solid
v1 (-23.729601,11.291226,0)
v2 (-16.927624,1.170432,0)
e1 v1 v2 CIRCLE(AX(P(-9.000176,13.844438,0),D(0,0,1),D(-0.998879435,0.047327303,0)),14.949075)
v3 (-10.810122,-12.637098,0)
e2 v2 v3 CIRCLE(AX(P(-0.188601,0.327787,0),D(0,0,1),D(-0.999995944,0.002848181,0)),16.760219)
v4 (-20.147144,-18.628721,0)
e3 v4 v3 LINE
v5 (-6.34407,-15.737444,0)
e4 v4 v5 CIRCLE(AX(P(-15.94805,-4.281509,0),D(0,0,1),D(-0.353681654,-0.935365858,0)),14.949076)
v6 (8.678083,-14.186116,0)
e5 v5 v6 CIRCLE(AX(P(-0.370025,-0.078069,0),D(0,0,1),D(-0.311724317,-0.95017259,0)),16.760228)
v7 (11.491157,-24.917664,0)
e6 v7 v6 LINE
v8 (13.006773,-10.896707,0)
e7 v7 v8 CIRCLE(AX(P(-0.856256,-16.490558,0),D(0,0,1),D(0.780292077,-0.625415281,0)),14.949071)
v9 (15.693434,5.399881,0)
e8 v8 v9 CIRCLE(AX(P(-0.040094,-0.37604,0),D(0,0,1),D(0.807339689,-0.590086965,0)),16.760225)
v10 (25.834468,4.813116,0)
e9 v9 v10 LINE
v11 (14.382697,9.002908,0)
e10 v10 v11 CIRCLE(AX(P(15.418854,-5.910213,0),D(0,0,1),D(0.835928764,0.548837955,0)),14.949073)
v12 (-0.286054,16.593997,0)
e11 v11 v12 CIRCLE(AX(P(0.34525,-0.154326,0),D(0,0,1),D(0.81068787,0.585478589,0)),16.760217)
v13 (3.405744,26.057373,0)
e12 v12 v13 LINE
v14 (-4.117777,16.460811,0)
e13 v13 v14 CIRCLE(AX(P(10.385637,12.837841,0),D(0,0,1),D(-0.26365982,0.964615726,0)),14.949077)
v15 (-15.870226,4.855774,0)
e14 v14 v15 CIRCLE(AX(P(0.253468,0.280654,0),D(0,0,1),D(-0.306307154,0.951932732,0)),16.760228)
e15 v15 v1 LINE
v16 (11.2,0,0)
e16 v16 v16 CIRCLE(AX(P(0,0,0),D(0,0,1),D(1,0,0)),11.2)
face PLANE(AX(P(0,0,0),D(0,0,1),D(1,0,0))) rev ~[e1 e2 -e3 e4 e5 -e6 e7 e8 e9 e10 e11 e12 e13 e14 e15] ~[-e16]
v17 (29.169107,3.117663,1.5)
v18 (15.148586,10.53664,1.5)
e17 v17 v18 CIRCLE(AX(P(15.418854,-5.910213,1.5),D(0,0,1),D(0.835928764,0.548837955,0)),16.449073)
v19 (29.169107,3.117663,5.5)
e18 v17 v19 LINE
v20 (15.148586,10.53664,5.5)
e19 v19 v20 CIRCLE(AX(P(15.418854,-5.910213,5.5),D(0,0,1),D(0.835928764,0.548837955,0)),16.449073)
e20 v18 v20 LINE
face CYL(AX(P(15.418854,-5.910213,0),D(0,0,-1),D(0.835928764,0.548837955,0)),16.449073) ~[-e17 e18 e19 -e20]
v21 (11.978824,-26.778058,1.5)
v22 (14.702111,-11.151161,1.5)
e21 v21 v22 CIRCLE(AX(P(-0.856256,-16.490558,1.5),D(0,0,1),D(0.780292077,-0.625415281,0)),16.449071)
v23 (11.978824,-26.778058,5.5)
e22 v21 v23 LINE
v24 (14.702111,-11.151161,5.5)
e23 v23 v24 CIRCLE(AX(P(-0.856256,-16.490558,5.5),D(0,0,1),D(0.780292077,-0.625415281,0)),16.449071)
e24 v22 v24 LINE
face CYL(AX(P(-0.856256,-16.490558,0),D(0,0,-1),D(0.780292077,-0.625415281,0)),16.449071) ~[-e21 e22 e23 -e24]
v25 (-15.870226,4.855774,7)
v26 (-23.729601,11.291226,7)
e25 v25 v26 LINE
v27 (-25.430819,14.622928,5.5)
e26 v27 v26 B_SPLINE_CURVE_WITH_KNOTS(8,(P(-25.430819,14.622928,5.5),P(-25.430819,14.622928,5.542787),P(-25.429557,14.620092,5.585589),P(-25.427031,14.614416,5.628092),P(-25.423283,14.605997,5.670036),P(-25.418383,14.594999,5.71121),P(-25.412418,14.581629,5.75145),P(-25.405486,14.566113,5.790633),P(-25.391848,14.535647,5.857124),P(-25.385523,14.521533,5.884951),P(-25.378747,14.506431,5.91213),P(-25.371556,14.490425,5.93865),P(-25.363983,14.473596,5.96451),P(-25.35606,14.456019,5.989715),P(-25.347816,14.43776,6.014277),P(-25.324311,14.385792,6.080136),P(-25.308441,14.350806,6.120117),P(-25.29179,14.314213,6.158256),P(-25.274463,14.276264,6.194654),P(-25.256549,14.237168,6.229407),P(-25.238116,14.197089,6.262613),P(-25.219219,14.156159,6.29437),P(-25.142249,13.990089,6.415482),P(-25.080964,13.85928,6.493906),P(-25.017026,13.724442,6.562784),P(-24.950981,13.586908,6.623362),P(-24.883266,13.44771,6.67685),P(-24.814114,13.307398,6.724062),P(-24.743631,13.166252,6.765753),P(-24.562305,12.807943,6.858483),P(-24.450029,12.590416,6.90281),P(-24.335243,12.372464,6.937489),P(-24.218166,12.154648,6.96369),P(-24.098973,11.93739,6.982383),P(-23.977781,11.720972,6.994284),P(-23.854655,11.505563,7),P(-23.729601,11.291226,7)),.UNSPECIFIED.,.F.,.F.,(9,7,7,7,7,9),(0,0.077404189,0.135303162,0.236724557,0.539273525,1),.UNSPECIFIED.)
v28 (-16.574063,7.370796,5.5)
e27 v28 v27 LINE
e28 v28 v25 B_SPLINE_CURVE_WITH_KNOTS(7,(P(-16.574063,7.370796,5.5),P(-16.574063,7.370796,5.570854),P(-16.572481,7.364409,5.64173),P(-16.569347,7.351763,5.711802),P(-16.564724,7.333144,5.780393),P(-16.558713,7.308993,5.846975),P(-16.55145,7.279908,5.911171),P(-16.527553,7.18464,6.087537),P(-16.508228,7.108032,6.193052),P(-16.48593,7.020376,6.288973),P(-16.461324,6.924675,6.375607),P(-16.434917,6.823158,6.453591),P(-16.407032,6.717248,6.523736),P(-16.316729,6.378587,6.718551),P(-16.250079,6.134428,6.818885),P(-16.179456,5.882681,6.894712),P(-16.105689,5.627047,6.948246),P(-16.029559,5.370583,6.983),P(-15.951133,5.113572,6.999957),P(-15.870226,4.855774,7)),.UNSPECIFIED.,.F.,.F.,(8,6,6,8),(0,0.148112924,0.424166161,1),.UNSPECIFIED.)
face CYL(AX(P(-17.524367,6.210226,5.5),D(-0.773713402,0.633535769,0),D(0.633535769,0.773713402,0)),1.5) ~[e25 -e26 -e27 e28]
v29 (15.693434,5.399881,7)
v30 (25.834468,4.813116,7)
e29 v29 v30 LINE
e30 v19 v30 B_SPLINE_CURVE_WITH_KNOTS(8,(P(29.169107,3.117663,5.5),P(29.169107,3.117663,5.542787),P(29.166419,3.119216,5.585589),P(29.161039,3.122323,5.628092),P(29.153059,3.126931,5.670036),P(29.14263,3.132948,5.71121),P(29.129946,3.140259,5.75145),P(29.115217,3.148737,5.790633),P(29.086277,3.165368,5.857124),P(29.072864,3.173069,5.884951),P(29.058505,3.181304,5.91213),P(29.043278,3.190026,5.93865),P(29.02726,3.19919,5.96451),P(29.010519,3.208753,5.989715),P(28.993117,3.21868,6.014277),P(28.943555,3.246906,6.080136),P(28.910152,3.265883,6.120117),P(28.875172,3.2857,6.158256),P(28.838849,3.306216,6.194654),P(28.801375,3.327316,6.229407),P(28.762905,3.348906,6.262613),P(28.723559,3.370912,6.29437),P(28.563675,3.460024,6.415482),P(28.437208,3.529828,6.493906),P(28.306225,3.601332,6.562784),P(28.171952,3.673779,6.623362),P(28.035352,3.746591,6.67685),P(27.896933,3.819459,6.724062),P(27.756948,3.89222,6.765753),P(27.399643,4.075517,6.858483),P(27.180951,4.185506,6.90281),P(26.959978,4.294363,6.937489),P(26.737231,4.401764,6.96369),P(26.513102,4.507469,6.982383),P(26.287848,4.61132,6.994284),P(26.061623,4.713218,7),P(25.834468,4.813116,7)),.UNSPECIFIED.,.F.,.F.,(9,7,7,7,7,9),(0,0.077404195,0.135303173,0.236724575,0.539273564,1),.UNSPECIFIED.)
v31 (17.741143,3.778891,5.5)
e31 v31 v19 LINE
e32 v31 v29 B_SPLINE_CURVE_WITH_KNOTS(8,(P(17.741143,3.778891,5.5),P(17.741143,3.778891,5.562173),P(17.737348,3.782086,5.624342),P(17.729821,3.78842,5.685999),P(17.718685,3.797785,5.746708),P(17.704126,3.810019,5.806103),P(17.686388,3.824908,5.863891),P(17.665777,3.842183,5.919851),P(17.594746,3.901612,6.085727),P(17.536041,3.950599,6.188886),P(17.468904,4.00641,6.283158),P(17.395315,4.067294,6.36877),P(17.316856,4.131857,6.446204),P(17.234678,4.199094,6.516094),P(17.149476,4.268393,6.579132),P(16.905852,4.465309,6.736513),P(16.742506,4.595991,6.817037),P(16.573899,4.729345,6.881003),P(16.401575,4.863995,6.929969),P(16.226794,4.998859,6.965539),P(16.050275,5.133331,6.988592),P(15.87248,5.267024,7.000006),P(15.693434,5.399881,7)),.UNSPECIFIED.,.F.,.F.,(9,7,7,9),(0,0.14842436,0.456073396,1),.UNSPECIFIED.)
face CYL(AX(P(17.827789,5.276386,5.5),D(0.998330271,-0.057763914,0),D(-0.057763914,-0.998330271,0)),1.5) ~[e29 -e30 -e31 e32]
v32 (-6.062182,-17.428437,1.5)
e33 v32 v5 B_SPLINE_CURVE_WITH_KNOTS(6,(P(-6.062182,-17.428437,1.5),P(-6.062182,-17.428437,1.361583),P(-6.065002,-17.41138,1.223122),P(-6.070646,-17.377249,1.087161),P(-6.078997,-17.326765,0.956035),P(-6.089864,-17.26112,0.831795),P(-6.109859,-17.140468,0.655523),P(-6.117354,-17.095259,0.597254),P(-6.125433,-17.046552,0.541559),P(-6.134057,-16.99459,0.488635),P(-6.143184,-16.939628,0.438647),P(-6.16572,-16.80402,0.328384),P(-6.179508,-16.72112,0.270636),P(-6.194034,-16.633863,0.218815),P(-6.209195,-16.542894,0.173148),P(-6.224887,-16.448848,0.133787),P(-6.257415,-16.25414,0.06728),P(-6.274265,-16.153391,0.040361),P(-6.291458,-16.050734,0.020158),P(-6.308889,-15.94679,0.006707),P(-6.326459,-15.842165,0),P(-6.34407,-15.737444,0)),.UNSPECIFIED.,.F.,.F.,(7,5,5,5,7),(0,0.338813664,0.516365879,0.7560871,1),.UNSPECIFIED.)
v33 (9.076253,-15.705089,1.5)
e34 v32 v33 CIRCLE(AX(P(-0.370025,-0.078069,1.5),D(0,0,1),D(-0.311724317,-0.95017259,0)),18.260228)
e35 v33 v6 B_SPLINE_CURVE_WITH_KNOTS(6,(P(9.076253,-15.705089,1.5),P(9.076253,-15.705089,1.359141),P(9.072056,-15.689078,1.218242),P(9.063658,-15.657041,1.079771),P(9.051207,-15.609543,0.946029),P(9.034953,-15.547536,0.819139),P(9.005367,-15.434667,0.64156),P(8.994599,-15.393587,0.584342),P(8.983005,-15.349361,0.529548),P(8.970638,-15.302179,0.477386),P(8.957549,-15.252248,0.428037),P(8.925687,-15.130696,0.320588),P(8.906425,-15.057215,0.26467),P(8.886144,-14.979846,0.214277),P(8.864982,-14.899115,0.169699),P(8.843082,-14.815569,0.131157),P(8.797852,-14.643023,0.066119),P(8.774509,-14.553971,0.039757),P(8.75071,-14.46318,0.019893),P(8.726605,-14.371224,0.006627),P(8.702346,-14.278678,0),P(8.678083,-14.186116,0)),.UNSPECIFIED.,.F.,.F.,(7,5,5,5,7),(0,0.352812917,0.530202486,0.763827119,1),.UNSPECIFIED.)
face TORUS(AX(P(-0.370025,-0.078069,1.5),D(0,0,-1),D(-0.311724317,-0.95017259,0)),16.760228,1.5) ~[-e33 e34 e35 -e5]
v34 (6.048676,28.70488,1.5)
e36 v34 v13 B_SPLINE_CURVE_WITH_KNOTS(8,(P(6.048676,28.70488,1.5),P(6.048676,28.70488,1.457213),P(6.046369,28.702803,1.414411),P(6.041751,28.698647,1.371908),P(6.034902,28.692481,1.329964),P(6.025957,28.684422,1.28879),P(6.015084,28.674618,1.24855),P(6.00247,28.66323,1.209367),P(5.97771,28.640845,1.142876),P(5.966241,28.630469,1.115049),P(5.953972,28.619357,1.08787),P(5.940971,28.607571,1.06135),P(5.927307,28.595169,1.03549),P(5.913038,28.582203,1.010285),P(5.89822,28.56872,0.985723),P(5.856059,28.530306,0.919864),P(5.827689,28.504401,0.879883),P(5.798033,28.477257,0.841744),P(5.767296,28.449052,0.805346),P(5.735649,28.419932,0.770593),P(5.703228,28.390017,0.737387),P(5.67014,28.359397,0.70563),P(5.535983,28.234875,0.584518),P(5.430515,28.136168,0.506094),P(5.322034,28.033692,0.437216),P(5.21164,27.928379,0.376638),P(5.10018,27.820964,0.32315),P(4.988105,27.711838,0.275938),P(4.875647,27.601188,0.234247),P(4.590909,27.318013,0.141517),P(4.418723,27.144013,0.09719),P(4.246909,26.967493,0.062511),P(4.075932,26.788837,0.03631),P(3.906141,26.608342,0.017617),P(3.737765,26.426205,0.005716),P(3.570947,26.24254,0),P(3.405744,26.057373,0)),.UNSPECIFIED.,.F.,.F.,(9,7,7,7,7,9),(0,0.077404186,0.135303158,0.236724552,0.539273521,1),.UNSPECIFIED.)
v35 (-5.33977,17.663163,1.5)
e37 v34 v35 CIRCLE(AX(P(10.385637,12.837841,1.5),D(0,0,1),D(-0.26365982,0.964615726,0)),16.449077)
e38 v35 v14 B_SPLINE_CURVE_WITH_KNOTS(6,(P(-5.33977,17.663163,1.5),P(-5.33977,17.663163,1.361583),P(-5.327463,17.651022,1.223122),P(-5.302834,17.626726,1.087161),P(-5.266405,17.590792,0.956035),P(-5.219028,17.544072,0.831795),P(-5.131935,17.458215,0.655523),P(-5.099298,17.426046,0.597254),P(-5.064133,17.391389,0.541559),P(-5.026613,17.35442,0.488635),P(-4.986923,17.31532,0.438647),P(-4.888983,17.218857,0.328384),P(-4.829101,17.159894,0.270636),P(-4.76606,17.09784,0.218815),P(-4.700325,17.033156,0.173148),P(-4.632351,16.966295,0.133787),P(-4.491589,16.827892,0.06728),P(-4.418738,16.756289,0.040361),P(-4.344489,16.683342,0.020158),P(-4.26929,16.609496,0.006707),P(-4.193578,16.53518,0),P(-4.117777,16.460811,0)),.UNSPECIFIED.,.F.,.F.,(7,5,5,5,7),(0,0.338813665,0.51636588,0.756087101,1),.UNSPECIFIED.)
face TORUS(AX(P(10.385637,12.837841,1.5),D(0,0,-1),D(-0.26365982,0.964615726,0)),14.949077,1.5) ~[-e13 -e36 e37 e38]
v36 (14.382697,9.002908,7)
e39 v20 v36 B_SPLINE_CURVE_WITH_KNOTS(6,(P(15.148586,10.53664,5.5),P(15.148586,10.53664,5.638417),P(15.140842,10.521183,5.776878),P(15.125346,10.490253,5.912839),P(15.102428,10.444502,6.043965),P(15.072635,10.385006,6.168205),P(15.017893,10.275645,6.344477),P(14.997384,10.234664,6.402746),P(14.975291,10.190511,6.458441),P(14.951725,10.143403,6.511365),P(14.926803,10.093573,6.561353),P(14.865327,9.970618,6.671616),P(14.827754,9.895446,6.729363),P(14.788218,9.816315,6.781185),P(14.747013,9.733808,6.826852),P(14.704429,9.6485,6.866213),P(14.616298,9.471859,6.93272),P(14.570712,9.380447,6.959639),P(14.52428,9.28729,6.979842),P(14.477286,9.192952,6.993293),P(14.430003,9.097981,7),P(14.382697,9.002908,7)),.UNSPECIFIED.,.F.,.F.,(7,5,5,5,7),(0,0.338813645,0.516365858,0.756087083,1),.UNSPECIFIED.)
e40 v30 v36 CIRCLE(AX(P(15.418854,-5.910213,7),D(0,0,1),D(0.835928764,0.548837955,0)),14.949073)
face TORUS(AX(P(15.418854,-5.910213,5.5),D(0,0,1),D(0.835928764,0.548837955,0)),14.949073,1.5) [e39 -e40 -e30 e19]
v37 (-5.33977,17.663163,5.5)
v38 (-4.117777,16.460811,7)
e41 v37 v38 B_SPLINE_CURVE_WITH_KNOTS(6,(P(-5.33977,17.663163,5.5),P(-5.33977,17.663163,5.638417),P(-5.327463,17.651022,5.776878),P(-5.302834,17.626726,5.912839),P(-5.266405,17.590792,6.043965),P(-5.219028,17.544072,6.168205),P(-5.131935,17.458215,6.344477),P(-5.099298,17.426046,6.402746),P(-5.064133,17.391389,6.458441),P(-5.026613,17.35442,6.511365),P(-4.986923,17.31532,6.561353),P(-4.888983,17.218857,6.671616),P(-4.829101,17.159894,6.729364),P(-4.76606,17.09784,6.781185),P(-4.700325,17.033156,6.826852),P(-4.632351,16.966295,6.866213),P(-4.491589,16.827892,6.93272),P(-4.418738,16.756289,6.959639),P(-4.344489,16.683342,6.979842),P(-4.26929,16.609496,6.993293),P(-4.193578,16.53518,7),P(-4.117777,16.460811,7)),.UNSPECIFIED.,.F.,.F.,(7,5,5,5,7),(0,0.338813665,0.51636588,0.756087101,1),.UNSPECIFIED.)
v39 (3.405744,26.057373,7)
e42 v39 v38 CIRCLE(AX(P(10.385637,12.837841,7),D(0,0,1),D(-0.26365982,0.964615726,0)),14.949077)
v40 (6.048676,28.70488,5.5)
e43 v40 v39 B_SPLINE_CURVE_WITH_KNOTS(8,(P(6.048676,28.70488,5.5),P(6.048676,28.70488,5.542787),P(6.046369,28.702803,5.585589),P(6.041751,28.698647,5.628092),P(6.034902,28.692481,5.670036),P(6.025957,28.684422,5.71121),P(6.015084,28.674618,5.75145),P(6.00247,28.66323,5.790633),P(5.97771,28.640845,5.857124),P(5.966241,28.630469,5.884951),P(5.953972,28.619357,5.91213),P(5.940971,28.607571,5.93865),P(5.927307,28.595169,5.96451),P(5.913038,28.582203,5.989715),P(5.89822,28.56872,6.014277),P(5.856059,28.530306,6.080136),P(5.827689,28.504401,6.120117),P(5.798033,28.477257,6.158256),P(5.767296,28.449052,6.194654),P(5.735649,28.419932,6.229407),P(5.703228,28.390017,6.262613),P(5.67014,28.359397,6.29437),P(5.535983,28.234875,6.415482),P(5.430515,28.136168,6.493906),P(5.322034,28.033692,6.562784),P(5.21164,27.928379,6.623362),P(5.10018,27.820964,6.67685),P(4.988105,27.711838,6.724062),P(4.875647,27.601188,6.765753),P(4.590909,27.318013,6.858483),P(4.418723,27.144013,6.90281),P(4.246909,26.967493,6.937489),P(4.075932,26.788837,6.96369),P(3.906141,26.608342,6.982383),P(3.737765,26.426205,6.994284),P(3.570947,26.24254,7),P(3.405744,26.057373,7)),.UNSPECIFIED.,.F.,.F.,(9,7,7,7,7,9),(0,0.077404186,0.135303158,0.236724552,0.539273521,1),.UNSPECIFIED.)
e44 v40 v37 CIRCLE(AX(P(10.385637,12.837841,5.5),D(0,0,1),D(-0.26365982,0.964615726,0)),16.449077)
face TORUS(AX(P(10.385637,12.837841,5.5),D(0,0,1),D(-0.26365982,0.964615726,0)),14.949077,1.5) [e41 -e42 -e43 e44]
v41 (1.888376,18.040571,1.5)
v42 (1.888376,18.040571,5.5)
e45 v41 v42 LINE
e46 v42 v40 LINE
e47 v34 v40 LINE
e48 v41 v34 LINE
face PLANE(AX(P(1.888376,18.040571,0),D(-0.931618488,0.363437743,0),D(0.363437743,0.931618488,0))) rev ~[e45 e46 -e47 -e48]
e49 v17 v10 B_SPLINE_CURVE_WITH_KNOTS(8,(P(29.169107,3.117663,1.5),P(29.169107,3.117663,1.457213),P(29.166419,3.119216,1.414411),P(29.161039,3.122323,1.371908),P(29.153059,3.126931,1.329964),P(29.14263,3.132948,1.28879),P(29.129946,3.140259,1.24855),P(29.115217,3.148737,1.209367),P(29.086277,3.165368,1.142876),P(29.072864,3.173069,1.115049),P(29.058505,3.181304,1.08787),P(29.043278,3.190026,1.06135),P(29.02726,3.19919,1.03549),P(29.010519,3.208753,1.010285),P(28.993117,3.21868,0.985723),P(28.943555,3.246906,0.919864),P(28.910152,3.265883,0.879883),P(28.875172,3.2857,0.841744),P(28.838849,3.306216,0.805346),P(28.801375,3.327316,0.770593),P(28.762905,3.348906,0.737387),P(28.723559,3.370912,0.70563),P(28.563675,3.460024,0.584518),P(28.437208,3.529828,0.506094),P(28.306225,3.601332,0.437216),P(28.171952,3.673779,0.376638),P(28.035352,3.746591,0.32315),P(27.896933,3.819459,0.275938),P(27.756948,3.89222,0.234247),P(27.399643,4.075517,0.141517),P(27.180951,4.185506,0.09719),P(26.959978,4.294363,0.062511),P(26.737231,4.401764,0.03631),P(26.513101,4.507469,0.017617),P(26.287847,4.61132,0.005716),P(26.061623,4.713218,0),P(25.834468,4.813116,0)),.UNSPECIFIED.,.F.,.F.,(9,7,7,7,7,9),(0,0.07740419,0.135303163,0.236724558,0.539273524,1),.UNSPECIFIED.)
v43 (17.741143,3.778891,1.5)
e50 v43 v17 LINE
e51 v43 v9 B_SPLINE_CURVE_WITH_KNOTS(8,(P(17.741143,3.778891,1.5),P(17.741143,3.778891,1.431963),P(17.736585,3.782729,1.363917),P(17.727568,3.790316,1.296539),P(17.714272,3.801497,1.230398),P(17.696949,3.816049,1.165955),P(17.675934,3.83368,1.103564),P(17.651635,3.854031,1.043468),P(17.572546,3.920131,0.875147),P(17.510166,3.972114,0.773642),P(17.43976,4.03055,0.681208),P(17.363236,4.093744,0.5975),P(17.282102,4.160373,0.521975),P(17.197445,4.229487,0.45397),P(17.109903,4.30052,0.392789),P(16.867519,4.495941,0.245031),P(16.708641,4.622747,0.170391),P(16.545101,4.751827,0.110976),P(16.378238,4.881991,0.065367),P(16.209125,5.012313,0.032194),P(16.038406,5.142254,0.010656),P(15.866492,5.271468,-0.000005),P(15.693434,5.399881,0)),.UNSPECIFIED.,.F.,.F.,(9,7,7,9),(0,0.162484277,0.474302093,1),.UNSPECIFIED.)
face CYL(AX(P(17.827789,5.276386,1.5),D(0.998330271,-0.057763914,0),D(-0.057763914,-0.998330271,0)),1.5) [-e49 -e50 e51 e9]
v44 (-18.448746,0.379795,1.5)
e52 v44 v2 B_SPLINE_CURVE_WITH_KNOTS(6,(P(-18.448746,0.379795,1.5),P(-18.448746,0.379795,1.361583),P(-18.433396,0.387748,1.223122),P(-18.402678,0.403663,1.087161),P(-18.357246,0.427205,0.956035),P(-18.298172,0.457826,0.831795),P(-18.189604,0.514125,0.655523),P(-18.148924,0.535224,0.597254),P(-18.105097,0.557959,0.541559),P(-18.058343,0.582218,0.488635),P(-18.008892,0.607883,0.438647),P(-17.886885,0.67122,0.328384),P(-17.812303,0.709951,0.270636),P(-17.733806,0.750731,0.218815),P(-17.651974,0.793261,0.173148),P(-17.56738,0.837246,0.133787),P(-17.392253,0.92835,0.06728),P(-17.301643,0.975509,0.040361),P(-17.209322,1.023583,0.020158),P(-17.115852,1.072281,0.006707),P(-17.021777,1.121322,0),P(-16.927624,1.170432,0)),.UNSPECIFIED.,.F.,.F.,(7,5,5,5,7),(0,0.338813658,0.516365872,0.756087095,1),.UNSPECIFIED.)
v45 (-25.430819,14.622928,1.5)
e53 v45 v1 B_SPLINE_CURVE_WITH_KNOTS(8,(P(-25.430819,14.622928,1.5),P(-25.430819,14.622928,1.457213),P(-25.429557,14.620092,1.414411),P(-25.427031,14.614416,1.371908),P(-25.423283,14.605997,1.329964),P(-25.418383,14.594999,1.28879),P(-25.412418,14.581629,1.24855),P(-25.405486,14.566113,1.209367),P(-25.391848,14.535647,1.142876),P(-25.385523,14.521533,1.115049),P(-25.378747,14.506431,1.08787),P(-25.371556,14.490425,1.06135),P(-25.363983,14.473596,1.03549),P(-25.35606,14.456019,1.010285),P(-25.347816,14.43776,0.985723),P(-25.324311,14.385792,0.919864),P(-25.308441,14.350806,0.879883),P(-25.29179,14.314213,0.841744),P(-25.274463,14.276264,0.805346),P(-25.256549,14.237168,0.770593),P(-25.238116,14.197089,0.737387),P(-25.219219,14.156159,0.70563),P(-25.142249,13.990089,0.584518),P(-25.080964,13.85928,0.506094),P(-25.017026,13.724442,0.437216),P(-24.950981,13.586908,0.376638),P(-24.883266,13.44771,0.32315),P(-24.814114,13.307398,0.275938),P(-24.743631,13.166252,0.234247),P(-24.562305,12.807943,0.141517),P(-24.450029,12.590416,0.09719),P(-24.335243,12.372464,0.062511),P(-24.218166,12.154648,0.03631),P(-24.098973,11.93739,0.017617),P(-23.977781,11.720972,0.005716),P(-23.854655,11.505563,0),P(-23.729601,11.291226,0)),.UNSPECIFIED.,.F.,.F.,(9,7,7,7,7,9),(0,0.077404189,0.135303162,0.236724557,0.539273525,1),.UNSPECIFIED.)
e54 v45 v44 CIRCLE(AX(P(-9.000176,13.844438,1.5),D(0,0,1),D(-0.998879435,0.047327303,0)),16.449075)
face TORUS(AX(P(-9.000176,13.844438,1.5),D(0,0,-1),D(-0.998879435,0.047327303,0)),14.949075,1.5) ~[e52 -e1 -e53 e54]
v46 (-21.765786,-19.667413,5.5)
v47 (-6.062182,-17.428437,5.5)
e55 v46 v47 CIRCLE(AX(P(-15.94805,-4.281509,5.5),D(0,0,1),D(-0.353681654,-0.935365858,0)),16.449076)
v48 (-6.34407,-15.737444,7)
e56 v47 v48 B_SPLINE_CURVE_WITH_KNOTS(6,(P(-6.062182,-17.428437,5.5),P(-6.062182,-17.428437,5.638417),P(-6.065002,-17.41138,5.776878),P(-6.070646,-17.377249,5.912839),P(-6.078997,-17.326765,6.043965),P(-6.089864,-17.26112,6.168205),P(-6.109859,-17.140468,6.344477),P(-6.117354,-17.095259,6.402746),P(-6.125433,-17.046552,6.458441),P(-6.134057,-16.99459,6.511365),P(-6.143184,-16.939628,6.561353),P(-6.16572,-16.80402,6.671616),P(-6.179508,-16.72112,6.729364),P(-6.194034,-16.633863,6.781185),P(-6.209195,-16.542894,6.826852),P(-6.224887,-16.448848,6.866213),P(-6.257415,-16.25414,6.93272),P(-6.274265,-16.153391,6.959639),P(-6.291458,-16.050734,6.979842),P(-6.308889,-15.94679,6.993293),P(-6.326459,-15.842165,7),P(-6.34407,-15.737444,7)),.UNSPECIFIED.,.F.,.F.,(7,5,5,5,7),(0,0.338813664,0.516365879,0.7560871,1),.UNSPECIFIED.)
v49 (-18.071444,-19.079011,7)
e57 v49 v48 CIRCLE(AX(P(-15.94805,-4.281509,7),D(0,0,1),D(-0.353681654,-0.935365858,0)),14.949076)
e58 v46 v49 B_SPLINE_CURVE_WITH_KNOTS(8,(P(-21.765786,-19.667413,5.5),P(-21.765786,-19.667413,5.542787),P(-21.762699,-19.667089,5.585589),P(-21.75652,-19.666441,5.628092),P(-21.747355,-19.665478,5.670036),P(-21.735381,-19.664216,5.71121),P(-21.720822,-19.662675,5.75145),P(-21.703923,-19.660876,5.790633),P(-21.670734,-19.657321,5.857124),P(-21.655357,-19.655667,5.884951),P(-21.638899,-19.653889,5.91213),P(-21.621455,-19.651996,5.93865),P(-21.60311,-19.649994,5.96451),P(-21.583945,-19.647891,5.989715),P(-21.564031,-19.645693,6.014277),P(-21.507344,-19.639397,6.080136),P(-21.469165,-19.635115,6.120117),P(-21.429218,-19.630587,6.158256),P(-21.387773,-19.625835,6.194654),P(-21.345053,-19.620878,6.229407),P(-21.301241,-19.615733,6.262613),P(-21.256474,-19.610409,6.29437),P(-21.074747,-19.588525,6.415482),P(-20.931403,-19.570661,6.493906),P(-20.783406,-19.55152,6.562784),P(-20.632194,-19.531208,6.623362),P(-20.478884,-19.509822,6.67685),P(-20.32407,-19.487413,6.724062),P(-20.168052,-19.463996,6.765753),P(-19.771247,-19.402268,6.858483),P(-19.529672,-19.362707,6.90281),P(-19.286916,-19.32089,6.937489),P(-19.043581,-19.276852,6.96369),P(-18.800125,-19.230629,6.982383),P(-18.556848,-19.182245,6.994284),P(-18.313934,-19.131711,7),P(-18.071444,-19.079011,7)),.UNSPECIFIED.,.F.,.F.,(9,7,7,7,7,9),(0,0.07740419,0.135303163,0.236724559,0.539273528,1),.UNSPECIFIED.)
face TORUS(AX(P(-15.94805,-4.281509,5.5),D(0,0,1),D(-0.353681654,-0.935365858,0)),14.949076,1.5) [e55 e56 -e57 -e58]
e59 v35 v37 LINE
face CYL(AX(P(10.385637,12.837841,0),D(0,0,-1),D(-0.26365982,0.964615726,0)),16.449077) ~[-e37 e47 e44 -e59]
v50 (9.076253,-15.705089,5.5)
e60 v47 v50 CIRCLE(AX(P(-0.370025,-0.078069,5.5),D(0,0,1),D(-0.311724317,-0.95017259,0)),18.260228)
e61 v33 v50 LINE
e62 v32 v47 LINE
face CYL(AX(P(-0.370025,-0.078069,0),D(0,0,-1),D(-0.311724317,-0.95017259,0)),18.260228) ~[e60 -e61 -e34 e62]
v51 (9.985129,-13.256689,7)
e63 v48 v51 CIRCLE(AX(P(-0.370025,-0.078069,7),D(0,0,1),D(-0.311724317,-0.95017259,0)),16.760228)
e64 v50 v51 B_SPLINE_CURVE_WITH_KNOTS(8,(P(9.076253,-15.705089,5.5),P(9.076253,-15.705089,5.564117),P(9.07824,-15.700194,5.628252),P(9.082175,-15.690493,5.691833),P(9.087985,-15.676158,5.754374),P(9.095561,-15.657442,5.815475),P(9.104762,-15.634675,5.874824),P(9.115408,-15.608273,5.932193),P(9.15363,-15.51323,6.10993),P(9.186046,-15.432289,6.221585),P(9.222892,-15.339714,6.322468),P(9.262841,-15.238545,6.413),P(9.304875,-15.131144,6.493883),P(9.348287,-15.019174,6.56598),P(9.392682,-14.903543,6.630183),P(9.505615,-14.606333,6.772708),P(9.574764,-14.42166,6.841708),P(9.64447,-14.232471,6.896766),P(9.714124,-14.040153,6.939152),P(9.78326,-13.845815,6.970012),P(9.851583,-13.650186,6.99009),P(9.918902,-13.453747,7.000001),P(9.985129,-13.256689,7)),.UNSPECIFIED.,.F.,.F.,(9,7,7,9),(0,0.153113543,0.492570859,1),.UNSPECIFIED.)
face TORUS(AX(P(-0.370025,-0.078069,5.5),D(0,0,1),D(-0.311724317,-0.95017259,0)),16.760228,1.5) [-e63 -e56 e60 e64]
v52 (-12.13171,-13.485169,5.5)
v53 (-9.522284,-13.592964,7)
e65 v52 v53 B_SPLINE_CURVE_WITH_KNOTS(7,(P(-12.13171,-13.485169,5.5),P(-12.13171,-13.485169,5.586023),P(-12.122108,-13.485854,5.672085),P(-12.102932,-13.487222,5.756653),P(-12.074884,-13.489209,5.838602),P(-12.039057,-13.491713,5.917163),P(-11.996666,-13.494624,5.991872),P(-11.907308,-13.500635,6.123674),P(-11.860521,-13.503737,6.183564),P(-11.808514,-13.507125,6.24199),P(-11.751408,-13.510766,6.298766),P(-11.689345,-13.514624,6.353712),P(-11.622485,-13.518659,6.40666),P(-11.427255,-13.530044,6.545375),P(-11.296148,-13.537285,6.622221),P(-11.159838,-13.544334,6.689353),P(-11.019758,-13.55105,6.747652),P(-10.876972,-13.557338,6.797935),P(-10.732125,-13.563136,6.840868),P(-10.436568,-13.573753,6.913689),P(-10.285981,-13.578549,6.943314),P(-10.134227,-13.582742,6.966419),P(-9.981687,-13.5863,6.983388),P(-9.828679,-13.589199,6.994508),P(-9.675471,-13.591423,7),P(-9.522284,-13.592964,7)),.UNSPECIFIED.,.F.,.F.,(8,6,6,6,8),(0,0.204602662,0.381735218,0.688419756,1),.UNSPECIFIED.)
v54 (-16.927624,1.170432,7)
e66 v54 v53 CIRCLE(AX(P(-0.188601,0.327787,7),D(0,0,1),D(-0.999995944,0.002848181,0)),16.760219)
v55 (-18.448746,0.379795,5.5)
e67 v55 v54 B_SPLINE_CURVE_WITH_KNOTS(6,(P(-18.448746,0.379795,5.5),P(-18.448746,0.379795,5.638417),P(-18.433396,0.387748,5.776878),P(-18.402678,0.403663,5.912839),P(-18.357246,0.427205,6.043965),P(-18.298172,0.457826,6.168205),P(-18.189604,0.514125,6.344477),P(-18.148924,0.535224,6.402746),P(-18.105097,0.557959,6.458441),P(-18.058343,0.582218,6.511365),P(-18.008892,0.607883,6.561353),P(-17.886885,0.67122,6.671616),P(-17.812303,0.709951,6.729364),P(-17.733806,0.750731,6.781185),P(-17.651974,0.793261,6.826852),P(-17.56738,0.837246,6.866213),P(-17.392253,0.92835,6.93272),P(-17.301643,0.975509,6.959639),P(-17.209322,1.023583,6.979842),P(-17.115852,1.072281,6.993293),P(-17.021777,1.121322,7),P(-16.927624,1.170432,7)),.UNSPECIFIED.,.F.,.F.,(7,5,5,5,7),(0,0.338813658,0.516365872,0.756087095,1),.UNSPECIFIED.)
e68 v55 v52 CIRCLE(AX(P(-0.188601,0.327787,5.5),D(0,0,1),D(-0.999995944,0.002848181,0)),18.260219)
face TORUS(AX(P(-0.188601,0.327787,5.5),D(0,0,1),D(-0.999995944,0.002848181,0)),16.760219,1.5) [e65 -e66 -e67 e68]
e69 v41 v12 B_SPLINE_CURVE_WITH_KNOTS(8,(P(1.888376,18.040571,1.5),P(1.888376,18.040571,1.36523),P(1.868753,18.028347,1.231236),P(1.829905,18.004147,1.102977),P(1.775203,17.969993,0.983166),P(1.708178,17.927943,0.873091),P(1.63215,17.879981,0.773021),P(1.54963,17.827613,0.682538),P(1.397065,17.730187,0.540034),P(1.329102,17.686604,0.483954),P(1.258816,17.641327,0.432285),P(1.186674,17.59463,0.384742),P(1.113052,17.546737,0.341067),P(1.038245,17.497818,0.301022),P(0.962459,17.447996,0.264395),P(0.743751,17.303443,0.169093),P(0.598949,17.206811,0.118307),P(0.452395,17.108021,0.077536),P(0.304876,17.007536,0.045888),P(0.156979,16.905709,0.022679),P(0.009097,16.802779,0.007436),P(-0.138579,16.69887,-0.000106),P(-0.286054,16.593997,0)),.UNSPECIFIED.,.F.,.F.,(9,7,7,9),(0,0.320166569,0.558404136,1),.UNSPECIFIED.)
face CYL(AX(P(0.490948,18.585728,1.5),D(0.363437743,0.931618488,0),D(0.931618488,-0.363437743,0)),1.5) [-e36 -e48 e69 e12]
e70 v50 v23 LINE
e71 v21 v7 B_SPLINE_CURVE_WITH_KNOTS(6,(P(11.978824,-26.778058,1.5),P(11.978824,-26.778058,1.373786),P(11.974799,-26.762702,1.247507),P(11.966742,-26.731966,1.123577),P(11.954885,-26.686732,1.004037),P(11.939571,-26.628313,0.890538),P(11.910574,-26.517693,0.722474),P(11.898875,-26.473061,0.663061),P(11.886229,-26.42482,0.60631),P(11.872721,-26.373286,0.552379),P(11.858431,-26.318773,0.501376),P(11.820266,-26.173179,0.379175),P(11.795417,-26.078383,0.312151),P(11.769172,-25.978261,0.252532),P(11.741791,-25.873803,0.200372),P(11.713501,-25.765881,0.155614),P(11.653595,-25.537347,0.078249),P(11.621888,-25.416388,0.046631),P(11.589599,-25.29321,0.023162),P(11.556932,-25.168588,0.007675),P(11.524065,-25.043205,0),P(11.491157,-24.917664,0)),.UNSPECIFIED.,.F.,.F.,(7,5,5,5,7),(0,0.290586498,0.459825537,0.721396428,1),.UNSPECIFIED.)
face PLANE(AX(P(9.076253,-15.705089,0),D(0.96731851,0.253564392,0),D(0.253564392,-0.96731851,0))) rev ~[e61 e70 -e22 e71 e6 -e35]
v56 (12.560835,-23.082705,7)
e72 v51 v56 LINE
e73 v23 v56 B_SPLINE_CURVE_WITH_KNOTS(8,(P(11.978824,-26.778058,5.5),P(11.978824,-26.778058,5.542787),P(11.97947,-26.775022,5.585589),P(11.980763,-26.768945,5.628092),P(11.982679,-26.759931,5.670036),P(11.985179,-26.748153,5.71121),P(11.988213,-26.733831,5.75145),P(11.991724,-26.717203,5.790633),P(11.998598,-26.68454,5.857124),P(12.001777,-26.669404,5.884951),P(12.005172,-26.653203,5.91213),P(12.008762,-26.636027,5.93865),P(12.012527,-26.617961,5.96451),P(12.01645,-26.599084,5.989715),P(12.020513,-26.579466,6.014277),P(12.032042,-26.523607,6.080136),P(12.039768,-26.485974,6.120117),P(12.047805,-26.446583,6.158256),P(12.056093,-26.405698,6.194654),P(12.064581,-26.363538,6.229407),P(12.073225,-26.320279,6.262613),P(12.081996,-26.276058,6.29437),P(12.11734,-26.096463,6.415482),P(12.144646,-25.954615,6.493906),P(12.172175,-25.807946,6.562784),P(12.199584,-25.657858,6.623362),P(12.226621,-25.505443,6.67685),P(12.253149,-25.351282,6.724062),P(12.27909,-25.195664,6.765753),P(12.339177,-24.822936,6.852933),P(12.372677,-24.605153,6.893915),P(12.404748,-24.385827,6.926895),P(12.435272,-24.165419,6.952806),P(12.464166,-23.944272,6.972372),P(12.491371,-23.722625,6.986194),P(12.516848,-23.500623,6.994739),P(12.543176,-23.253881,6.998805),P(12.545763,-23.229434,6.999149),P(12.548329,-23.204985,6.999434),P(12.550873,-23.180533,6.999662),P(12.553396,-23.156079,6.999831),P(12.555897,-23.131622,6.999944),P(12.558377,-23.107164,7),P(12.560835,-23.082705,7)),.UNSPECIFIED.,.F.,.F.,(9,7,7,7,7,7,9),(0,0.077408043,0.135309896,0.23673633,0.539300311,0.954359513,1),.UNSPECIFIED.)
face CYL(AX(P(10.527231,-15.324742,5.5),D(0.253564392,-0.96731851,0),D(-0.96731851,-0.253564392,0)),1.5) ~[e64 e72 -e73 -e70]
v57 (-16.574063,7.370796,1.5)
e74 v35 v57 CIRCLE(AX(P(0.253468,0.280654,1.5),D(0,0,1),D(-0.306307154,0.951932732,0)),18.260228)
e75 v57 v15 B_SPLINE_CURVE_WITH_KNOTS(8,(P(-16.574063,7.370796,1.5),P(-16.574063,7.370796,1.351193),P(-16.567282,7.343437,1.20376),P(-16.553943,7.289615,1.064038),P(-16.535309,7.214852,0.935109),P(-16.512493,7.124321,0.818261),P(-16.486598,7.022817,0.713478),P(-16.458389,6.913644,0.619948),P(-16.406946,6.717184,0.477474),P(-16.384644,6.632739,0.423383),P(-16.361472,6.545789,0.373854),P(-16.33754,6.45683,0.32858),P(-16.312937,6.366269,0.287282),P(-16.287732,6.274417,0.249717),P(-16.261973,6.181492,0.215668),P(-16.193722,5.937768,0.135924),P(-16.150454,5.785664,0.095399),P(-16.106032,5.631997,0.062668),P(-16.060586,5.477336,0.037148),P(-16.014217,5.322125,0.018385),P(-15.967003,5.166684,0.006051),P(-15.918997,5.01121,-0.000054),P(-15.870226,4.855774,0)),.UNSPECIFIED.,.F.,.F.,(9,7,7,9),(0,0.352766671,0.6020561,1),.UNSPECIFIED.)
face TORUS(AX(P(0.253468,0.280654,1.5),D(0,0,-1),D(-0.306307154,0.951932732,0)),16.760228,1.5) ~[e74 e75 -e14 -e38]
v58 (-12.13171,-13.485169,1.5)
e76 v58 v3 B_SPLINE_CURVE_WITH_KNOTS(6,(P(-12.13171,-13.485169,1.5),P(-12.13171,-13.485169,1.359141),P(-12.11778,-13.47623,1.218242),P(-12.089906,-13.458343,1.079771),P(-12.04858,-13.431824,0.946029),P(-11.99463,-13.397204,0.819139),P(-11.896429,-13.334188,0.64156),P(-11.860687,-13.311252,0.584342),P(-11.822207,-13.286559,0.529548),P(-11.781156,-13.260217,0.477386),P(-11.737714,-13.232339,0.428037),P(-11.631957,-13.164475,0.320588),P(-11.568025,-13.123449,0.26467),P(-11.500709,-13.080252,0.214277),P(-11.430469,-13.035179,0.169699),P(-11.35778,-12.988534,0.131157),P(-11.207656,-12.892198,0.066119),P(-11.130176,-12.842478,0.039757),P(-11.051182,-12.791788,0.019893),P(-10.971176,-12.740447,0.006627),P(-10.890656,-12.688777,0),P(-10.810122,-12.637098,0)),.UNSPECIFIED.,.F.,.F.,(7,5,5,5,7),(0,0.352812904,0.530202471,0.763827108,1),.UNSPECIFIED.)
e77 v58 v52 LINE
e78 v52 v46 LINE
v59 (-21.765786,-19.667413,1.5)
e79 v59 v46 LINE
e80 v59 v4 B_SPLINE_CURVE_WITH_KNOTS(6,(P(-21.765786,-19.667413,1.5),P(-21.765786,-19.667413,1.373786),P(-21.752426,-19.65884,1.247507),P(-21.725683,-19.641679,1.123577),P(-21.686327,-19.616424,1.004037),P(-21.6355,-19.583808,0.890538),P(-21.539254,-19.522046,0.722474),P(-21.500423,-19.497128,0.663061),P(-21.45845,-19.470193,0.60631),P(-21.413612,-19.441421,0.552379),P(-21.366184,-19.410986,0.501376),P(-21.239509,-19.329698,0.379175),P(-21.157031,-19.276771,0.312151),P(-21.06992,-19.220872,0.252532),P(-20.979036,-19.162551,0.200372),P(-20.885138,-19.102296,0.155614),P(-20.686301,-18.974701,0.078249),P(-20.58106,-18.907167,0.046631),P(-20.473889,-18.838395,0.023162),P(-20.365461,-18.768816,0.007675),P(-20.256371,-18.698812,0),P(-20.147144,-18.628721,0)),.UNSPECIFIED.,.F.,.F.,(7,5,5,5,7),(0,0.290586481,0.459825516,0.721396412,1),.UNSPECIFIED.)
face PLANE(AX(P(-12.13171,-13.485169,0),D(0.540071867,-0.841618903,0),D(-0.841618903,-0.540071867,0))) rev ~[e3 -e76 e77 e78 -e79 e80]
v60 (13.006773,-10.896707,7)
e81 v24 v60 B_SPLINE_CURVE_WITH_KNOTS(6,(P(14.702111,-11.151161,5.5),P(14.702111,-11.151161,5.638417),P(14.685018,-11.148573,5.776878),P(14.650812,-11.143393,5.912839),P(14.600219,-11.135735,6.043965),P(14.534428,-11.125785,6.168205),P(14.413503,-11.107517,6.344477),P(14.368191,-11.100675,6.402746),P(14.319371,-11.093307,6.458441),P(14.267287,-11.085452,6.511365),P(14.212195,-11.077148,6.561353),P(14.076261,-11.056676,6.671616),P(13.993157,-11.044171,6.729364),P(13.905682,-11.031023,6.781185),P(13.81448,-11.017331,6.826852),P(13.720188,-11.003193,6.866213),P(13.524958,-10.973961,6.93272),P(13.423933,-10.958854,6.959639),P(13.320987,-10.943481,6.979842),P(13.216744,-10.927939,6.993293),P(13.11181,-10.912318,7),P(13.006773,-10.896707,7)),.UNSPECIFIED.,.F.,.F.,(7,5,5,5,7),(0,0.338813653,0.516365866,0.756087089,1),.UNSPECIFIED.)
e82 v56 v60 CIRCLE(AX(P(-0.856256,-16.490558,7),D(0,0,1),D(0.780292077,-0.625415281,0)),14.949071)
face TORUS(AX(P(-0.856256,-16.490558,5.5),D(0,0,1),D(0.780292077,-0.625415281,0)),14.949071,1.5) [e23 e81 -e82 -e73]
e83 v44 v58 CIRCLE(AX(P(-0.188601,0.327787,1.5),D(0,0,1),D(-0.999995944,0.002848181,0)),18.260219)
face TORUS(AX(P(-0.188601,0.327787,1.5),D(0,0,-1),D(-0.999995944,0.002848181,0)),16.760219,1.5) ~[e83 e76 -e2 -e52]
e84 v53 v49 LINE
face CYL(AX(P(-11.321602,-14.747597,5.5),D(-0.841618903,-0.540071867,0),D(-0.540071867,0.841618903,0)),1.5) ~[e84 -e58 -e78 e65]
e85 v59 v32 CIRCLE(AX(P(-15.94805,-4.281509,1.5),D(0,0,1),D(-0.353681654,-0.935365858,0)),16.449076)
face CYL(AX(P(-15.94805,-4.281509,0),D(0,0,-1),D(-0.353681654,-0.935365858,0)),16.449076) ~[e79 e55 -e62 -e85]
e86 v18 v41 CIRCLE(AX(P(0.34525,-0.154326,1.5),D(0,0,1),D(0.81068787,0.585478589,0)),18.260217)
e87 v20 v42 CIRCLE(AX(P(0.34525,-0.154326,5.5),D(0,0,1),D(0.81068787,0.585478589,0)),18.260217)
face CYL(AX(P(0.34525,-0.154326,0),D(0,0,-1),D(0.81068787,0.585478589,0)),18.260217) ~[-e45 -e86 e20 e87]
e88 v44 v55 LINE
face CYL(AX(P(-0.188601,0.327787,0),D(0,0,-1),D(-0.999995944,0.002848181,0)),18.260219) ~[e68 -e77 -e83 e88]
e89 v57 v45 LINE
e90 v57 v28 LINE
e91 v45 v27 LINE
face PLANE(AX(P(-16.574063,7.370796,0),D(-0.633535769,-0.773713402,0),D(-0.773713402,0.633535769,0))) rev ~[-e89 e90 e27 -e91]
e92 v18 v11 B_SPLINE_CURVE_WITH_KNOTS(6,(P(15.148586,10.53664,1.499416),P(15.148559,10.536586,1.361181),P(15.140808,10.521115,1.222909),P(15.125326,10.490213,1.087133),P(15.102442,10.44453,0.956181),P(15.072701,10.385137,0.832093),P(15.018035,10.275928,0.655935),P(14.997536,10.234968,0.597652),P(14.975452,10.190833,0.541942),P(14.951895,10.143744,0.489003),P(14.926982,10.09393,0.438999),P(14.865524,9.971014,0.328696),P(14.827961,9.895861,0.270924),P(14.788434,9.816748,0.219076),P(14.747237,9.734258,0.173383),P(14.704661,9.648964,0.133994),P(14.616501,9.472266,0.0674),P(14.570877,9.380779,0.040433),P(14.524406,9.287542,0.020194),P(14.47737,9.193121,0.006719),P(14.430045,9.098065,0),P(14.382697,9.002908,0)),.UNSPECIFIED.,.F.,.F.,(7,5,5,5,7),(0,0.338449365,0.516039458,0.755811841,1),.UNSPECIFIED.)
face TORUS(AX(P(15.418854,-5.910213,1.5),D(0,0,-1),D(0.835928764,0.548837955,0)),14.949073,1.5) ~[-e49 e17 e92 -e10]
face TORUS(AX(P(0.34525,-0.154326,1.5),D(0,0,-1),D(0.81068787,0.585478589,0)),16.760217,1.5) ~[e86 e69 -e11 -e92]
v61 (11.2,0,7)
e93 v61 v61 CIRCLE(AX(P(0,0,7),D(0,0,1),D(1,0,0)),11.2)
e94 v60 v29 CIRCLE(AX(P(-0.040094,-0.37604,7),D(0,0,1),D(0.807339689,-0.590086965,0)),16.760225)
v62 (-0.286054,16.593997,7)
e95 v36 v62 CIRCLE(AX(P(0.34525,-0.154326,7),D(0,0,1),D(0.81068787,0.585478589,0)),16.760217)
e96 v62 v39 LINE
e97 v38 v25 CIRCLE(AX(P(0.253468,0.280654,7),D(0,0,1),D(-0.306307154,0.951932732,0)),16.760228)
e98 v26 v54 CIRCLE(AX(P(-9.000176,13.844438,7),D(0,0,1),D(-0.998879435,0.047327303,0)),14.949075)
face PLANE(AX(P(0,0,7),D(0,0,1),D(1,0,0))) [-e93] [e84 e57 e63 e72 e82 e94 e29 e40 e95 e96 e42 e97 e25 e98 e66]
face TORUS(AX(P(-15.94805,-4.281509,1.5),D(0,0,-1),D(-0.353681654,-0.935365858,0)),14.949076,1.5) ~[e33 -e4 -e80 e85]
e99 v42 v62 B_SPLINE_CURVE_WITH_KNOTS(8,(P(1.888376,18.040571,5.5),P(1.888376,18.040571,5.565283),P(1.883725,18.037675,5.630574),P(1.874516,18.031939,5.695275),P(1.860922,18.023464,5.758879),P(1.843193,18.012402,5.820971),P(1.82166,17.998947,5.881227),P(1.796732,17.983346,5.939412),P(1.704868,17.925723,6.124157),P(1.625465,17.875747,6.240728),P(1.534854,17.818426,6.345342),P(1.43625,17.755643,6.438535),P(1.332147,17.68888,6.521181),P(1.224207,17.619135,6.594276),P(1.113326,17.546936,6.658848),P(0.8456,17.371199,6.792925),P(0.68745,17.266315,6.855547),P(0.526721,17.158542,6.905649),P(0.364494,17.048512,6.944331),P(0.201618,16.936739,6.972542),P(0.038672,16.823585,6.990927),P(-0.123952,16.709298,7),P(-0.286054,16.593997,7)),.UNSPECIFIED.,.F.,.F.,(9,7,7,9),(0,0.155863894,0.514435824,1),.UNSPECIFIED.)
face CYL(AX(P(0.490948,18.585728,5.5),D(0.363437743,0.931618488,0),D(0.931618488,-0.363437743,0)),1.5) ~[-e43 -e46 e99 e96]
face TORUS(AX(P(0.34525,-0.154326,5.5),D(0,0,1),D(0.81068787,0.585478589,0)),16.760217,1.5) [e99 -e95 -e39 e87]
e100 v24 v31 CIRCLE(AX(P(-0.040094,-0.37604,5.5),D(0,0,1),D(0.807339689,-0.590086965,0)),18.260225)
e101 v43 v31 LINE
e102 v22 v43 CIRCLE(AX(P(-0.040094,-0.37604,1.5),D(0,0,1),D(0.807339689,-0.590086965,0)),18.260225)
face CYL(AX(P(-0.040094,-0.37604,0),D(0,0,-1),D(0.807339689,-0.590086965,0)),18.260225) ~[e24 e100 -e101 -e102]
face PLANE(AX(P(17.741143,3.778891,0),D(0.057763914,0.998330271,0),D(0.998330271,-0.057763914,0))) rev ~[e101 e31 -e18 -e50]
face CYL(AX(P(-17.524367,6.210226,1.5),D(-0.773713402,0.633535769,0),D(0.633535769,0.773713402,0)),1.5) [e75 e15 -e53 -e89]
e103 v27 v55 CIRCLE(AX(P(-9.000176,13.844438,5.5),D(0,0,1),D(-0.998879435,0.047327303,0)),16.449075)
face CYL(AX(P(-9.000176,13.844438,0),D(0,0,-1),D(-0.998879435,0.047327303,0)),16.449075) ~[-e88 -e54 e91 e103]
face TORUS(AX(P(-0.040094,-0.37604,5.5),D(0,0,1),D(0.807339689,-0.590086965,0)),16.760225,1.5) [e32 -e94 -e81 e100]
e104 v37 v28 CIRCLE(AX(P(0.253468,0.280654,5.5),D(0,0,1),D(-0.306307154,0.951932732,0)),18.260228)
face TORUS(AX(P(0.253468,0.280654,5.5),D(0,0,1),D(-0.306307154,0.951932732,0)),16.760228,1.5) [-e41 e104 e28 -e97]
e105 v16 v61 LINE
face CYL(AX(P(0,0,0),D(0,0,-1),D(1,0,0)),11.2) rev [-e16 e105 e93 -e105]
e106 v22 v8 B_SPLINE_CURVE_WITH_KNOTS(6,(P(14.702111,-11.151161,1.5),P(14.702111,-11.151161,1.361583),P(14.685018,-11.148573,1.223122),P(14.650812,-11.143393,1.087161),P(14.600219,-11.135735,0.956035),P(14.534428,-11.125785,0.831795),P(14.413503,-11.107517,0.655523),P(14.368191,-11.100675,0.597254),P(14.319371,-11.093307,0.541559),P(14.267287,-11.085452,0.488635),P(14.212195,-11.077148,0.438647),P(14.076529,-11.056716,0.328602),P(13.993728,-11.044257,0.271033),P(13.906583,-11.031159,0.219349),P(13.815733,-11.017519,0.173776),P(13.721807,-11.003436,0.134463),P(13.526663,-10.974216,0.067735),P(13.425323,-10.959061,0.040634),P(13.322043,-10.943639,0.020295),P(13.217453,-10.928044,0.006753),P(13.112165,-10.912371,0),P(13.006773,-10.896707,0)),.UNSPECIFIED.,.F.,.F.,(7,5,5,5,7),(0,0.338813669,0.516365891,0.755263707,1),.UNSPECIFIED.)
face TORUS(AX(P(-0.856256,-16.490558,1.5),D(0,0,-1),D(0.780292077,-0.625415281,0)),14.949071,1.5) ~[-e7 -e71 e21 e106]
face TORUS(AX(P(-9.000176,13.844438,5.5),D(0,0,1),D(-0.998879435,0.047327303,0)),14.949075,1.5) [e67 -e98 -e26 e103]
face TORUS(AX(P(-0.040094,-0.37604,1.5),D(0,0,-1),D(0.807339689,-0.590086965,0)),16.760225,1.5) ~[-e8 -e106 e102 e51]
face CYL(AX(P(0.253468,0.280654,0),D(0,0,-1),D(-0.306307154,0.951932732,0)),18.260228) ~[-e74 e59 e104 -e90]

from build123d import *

# Parameters (mm, degrees)
F0_R     = 11.2
F1_DEPTH = 7
F2_R     = 1.5


with BuildPart() as f1:
    # F0 (on Top) → F1 (new body)
    with BuildSketch(Plane.XY):
        with BuildLine():
            Line((1.888376, 18.040571), (6.048676, 28.70488))
            ThreePointArc((6.048676, 28.70488), (-1.064452, 24.647482), (-5.33977, 17.663163))
            ThreePointArc((-5.33977, 17.663163), (-12.081682, 13.74468), (-16.574063, 7.370796))
            Line((-16.574063, 7.370796), (-25.430819, 14.622928))
            ThreePointArc((-25.430819, 14.622928), (-23.770082, 6.604137), (-18.448746, 0.379795))
            ThreePointArc((-18.448746, 0.379795), (-16.805413, -7.243023), (-12.13171, -13.485169))
            Line((-12.13171, -13.485169), (-21.765786, -19.667413))
            ThreePointArc((-21.765786, -19.667413), (-13.626267, -20.565901), (-6.062182, -17.428437))
            ThreePointArc((-6.062182, -17.428437), (1.695366, -18.221114), (9.076253, -15.705089))
            Line((9.076253, -15.705089), (11.978824, -26.778058))
            ThreePointArc((11.978824, -26.778058), (15.348587, -19.314563), (14.702111, -11.151161))
            ThreePointArc((14.702111, -11.151161), (17.853206, -4.018245), (17.741143, 3.778891))
            Line((17.741143, 3.778891), (29.169107, 3.117663))
            ThreePointArc((29.169107, 3.117663), (23.112215, 8.628845), (15.148586, 10.53664))
            ThreePointArc((15.148586, 10.53664), (9.338523, 15.737702), (1.888376, 18.040571))
        make_face()
        Circle(F0_R, mode=Mode.SUBTRACT)
    extrude(amount=F1_DEPTH)

    # F2
    f2_edges = [f1.edges().sort_by_distance(p)[0] for p in [
        (-13.626267, -20.565901, 7),
        (1.695366, -18.221114, 7),
        (15.348587, -19.314563, 7),
        (10.527539, -21.241573, 7),
        (17.853206, -4.018245, 7),
        (23.112215, 8.628845, 7),
        (23.455125, 3.448277, 7),
        (9.338523, 15.737702, 7),
        (-1.064452, 24.647482, 7),
        (3.968526, 23.372726, 7),
        (-12.081682, 13.74468, 7),
        (-21.002441, 10.996862, 7),
        (-23.770082, 6.604137, 7),
        (-16.805413, -7.243023, 7),
        (-16.948748, -16.576291, 7),
        (15.348587, -19.314563, 0),
        (17.853206, -4.018245, 0),
        (23.455125, 3.448277, 0),
        (1.695366, -18.221114, 0),
        (-13.626267, -20.565901, 0),
        (-16.805413, -7.243023, 0),
        (-23.770082, 6.604137, 0),
        (-12.081682, 13.74468, 0),
        (-21.002441, 10.996862, 0),
        (-1.064452, 24.647482, 0),
        (3.968526, 23.372726, 0),
        (23.112215, 8.628845, 0),
        (9.338523, 15.737702, 0),
    ]]
    fillet(f2_edges, radius=F2_R)


solid = f1.part
